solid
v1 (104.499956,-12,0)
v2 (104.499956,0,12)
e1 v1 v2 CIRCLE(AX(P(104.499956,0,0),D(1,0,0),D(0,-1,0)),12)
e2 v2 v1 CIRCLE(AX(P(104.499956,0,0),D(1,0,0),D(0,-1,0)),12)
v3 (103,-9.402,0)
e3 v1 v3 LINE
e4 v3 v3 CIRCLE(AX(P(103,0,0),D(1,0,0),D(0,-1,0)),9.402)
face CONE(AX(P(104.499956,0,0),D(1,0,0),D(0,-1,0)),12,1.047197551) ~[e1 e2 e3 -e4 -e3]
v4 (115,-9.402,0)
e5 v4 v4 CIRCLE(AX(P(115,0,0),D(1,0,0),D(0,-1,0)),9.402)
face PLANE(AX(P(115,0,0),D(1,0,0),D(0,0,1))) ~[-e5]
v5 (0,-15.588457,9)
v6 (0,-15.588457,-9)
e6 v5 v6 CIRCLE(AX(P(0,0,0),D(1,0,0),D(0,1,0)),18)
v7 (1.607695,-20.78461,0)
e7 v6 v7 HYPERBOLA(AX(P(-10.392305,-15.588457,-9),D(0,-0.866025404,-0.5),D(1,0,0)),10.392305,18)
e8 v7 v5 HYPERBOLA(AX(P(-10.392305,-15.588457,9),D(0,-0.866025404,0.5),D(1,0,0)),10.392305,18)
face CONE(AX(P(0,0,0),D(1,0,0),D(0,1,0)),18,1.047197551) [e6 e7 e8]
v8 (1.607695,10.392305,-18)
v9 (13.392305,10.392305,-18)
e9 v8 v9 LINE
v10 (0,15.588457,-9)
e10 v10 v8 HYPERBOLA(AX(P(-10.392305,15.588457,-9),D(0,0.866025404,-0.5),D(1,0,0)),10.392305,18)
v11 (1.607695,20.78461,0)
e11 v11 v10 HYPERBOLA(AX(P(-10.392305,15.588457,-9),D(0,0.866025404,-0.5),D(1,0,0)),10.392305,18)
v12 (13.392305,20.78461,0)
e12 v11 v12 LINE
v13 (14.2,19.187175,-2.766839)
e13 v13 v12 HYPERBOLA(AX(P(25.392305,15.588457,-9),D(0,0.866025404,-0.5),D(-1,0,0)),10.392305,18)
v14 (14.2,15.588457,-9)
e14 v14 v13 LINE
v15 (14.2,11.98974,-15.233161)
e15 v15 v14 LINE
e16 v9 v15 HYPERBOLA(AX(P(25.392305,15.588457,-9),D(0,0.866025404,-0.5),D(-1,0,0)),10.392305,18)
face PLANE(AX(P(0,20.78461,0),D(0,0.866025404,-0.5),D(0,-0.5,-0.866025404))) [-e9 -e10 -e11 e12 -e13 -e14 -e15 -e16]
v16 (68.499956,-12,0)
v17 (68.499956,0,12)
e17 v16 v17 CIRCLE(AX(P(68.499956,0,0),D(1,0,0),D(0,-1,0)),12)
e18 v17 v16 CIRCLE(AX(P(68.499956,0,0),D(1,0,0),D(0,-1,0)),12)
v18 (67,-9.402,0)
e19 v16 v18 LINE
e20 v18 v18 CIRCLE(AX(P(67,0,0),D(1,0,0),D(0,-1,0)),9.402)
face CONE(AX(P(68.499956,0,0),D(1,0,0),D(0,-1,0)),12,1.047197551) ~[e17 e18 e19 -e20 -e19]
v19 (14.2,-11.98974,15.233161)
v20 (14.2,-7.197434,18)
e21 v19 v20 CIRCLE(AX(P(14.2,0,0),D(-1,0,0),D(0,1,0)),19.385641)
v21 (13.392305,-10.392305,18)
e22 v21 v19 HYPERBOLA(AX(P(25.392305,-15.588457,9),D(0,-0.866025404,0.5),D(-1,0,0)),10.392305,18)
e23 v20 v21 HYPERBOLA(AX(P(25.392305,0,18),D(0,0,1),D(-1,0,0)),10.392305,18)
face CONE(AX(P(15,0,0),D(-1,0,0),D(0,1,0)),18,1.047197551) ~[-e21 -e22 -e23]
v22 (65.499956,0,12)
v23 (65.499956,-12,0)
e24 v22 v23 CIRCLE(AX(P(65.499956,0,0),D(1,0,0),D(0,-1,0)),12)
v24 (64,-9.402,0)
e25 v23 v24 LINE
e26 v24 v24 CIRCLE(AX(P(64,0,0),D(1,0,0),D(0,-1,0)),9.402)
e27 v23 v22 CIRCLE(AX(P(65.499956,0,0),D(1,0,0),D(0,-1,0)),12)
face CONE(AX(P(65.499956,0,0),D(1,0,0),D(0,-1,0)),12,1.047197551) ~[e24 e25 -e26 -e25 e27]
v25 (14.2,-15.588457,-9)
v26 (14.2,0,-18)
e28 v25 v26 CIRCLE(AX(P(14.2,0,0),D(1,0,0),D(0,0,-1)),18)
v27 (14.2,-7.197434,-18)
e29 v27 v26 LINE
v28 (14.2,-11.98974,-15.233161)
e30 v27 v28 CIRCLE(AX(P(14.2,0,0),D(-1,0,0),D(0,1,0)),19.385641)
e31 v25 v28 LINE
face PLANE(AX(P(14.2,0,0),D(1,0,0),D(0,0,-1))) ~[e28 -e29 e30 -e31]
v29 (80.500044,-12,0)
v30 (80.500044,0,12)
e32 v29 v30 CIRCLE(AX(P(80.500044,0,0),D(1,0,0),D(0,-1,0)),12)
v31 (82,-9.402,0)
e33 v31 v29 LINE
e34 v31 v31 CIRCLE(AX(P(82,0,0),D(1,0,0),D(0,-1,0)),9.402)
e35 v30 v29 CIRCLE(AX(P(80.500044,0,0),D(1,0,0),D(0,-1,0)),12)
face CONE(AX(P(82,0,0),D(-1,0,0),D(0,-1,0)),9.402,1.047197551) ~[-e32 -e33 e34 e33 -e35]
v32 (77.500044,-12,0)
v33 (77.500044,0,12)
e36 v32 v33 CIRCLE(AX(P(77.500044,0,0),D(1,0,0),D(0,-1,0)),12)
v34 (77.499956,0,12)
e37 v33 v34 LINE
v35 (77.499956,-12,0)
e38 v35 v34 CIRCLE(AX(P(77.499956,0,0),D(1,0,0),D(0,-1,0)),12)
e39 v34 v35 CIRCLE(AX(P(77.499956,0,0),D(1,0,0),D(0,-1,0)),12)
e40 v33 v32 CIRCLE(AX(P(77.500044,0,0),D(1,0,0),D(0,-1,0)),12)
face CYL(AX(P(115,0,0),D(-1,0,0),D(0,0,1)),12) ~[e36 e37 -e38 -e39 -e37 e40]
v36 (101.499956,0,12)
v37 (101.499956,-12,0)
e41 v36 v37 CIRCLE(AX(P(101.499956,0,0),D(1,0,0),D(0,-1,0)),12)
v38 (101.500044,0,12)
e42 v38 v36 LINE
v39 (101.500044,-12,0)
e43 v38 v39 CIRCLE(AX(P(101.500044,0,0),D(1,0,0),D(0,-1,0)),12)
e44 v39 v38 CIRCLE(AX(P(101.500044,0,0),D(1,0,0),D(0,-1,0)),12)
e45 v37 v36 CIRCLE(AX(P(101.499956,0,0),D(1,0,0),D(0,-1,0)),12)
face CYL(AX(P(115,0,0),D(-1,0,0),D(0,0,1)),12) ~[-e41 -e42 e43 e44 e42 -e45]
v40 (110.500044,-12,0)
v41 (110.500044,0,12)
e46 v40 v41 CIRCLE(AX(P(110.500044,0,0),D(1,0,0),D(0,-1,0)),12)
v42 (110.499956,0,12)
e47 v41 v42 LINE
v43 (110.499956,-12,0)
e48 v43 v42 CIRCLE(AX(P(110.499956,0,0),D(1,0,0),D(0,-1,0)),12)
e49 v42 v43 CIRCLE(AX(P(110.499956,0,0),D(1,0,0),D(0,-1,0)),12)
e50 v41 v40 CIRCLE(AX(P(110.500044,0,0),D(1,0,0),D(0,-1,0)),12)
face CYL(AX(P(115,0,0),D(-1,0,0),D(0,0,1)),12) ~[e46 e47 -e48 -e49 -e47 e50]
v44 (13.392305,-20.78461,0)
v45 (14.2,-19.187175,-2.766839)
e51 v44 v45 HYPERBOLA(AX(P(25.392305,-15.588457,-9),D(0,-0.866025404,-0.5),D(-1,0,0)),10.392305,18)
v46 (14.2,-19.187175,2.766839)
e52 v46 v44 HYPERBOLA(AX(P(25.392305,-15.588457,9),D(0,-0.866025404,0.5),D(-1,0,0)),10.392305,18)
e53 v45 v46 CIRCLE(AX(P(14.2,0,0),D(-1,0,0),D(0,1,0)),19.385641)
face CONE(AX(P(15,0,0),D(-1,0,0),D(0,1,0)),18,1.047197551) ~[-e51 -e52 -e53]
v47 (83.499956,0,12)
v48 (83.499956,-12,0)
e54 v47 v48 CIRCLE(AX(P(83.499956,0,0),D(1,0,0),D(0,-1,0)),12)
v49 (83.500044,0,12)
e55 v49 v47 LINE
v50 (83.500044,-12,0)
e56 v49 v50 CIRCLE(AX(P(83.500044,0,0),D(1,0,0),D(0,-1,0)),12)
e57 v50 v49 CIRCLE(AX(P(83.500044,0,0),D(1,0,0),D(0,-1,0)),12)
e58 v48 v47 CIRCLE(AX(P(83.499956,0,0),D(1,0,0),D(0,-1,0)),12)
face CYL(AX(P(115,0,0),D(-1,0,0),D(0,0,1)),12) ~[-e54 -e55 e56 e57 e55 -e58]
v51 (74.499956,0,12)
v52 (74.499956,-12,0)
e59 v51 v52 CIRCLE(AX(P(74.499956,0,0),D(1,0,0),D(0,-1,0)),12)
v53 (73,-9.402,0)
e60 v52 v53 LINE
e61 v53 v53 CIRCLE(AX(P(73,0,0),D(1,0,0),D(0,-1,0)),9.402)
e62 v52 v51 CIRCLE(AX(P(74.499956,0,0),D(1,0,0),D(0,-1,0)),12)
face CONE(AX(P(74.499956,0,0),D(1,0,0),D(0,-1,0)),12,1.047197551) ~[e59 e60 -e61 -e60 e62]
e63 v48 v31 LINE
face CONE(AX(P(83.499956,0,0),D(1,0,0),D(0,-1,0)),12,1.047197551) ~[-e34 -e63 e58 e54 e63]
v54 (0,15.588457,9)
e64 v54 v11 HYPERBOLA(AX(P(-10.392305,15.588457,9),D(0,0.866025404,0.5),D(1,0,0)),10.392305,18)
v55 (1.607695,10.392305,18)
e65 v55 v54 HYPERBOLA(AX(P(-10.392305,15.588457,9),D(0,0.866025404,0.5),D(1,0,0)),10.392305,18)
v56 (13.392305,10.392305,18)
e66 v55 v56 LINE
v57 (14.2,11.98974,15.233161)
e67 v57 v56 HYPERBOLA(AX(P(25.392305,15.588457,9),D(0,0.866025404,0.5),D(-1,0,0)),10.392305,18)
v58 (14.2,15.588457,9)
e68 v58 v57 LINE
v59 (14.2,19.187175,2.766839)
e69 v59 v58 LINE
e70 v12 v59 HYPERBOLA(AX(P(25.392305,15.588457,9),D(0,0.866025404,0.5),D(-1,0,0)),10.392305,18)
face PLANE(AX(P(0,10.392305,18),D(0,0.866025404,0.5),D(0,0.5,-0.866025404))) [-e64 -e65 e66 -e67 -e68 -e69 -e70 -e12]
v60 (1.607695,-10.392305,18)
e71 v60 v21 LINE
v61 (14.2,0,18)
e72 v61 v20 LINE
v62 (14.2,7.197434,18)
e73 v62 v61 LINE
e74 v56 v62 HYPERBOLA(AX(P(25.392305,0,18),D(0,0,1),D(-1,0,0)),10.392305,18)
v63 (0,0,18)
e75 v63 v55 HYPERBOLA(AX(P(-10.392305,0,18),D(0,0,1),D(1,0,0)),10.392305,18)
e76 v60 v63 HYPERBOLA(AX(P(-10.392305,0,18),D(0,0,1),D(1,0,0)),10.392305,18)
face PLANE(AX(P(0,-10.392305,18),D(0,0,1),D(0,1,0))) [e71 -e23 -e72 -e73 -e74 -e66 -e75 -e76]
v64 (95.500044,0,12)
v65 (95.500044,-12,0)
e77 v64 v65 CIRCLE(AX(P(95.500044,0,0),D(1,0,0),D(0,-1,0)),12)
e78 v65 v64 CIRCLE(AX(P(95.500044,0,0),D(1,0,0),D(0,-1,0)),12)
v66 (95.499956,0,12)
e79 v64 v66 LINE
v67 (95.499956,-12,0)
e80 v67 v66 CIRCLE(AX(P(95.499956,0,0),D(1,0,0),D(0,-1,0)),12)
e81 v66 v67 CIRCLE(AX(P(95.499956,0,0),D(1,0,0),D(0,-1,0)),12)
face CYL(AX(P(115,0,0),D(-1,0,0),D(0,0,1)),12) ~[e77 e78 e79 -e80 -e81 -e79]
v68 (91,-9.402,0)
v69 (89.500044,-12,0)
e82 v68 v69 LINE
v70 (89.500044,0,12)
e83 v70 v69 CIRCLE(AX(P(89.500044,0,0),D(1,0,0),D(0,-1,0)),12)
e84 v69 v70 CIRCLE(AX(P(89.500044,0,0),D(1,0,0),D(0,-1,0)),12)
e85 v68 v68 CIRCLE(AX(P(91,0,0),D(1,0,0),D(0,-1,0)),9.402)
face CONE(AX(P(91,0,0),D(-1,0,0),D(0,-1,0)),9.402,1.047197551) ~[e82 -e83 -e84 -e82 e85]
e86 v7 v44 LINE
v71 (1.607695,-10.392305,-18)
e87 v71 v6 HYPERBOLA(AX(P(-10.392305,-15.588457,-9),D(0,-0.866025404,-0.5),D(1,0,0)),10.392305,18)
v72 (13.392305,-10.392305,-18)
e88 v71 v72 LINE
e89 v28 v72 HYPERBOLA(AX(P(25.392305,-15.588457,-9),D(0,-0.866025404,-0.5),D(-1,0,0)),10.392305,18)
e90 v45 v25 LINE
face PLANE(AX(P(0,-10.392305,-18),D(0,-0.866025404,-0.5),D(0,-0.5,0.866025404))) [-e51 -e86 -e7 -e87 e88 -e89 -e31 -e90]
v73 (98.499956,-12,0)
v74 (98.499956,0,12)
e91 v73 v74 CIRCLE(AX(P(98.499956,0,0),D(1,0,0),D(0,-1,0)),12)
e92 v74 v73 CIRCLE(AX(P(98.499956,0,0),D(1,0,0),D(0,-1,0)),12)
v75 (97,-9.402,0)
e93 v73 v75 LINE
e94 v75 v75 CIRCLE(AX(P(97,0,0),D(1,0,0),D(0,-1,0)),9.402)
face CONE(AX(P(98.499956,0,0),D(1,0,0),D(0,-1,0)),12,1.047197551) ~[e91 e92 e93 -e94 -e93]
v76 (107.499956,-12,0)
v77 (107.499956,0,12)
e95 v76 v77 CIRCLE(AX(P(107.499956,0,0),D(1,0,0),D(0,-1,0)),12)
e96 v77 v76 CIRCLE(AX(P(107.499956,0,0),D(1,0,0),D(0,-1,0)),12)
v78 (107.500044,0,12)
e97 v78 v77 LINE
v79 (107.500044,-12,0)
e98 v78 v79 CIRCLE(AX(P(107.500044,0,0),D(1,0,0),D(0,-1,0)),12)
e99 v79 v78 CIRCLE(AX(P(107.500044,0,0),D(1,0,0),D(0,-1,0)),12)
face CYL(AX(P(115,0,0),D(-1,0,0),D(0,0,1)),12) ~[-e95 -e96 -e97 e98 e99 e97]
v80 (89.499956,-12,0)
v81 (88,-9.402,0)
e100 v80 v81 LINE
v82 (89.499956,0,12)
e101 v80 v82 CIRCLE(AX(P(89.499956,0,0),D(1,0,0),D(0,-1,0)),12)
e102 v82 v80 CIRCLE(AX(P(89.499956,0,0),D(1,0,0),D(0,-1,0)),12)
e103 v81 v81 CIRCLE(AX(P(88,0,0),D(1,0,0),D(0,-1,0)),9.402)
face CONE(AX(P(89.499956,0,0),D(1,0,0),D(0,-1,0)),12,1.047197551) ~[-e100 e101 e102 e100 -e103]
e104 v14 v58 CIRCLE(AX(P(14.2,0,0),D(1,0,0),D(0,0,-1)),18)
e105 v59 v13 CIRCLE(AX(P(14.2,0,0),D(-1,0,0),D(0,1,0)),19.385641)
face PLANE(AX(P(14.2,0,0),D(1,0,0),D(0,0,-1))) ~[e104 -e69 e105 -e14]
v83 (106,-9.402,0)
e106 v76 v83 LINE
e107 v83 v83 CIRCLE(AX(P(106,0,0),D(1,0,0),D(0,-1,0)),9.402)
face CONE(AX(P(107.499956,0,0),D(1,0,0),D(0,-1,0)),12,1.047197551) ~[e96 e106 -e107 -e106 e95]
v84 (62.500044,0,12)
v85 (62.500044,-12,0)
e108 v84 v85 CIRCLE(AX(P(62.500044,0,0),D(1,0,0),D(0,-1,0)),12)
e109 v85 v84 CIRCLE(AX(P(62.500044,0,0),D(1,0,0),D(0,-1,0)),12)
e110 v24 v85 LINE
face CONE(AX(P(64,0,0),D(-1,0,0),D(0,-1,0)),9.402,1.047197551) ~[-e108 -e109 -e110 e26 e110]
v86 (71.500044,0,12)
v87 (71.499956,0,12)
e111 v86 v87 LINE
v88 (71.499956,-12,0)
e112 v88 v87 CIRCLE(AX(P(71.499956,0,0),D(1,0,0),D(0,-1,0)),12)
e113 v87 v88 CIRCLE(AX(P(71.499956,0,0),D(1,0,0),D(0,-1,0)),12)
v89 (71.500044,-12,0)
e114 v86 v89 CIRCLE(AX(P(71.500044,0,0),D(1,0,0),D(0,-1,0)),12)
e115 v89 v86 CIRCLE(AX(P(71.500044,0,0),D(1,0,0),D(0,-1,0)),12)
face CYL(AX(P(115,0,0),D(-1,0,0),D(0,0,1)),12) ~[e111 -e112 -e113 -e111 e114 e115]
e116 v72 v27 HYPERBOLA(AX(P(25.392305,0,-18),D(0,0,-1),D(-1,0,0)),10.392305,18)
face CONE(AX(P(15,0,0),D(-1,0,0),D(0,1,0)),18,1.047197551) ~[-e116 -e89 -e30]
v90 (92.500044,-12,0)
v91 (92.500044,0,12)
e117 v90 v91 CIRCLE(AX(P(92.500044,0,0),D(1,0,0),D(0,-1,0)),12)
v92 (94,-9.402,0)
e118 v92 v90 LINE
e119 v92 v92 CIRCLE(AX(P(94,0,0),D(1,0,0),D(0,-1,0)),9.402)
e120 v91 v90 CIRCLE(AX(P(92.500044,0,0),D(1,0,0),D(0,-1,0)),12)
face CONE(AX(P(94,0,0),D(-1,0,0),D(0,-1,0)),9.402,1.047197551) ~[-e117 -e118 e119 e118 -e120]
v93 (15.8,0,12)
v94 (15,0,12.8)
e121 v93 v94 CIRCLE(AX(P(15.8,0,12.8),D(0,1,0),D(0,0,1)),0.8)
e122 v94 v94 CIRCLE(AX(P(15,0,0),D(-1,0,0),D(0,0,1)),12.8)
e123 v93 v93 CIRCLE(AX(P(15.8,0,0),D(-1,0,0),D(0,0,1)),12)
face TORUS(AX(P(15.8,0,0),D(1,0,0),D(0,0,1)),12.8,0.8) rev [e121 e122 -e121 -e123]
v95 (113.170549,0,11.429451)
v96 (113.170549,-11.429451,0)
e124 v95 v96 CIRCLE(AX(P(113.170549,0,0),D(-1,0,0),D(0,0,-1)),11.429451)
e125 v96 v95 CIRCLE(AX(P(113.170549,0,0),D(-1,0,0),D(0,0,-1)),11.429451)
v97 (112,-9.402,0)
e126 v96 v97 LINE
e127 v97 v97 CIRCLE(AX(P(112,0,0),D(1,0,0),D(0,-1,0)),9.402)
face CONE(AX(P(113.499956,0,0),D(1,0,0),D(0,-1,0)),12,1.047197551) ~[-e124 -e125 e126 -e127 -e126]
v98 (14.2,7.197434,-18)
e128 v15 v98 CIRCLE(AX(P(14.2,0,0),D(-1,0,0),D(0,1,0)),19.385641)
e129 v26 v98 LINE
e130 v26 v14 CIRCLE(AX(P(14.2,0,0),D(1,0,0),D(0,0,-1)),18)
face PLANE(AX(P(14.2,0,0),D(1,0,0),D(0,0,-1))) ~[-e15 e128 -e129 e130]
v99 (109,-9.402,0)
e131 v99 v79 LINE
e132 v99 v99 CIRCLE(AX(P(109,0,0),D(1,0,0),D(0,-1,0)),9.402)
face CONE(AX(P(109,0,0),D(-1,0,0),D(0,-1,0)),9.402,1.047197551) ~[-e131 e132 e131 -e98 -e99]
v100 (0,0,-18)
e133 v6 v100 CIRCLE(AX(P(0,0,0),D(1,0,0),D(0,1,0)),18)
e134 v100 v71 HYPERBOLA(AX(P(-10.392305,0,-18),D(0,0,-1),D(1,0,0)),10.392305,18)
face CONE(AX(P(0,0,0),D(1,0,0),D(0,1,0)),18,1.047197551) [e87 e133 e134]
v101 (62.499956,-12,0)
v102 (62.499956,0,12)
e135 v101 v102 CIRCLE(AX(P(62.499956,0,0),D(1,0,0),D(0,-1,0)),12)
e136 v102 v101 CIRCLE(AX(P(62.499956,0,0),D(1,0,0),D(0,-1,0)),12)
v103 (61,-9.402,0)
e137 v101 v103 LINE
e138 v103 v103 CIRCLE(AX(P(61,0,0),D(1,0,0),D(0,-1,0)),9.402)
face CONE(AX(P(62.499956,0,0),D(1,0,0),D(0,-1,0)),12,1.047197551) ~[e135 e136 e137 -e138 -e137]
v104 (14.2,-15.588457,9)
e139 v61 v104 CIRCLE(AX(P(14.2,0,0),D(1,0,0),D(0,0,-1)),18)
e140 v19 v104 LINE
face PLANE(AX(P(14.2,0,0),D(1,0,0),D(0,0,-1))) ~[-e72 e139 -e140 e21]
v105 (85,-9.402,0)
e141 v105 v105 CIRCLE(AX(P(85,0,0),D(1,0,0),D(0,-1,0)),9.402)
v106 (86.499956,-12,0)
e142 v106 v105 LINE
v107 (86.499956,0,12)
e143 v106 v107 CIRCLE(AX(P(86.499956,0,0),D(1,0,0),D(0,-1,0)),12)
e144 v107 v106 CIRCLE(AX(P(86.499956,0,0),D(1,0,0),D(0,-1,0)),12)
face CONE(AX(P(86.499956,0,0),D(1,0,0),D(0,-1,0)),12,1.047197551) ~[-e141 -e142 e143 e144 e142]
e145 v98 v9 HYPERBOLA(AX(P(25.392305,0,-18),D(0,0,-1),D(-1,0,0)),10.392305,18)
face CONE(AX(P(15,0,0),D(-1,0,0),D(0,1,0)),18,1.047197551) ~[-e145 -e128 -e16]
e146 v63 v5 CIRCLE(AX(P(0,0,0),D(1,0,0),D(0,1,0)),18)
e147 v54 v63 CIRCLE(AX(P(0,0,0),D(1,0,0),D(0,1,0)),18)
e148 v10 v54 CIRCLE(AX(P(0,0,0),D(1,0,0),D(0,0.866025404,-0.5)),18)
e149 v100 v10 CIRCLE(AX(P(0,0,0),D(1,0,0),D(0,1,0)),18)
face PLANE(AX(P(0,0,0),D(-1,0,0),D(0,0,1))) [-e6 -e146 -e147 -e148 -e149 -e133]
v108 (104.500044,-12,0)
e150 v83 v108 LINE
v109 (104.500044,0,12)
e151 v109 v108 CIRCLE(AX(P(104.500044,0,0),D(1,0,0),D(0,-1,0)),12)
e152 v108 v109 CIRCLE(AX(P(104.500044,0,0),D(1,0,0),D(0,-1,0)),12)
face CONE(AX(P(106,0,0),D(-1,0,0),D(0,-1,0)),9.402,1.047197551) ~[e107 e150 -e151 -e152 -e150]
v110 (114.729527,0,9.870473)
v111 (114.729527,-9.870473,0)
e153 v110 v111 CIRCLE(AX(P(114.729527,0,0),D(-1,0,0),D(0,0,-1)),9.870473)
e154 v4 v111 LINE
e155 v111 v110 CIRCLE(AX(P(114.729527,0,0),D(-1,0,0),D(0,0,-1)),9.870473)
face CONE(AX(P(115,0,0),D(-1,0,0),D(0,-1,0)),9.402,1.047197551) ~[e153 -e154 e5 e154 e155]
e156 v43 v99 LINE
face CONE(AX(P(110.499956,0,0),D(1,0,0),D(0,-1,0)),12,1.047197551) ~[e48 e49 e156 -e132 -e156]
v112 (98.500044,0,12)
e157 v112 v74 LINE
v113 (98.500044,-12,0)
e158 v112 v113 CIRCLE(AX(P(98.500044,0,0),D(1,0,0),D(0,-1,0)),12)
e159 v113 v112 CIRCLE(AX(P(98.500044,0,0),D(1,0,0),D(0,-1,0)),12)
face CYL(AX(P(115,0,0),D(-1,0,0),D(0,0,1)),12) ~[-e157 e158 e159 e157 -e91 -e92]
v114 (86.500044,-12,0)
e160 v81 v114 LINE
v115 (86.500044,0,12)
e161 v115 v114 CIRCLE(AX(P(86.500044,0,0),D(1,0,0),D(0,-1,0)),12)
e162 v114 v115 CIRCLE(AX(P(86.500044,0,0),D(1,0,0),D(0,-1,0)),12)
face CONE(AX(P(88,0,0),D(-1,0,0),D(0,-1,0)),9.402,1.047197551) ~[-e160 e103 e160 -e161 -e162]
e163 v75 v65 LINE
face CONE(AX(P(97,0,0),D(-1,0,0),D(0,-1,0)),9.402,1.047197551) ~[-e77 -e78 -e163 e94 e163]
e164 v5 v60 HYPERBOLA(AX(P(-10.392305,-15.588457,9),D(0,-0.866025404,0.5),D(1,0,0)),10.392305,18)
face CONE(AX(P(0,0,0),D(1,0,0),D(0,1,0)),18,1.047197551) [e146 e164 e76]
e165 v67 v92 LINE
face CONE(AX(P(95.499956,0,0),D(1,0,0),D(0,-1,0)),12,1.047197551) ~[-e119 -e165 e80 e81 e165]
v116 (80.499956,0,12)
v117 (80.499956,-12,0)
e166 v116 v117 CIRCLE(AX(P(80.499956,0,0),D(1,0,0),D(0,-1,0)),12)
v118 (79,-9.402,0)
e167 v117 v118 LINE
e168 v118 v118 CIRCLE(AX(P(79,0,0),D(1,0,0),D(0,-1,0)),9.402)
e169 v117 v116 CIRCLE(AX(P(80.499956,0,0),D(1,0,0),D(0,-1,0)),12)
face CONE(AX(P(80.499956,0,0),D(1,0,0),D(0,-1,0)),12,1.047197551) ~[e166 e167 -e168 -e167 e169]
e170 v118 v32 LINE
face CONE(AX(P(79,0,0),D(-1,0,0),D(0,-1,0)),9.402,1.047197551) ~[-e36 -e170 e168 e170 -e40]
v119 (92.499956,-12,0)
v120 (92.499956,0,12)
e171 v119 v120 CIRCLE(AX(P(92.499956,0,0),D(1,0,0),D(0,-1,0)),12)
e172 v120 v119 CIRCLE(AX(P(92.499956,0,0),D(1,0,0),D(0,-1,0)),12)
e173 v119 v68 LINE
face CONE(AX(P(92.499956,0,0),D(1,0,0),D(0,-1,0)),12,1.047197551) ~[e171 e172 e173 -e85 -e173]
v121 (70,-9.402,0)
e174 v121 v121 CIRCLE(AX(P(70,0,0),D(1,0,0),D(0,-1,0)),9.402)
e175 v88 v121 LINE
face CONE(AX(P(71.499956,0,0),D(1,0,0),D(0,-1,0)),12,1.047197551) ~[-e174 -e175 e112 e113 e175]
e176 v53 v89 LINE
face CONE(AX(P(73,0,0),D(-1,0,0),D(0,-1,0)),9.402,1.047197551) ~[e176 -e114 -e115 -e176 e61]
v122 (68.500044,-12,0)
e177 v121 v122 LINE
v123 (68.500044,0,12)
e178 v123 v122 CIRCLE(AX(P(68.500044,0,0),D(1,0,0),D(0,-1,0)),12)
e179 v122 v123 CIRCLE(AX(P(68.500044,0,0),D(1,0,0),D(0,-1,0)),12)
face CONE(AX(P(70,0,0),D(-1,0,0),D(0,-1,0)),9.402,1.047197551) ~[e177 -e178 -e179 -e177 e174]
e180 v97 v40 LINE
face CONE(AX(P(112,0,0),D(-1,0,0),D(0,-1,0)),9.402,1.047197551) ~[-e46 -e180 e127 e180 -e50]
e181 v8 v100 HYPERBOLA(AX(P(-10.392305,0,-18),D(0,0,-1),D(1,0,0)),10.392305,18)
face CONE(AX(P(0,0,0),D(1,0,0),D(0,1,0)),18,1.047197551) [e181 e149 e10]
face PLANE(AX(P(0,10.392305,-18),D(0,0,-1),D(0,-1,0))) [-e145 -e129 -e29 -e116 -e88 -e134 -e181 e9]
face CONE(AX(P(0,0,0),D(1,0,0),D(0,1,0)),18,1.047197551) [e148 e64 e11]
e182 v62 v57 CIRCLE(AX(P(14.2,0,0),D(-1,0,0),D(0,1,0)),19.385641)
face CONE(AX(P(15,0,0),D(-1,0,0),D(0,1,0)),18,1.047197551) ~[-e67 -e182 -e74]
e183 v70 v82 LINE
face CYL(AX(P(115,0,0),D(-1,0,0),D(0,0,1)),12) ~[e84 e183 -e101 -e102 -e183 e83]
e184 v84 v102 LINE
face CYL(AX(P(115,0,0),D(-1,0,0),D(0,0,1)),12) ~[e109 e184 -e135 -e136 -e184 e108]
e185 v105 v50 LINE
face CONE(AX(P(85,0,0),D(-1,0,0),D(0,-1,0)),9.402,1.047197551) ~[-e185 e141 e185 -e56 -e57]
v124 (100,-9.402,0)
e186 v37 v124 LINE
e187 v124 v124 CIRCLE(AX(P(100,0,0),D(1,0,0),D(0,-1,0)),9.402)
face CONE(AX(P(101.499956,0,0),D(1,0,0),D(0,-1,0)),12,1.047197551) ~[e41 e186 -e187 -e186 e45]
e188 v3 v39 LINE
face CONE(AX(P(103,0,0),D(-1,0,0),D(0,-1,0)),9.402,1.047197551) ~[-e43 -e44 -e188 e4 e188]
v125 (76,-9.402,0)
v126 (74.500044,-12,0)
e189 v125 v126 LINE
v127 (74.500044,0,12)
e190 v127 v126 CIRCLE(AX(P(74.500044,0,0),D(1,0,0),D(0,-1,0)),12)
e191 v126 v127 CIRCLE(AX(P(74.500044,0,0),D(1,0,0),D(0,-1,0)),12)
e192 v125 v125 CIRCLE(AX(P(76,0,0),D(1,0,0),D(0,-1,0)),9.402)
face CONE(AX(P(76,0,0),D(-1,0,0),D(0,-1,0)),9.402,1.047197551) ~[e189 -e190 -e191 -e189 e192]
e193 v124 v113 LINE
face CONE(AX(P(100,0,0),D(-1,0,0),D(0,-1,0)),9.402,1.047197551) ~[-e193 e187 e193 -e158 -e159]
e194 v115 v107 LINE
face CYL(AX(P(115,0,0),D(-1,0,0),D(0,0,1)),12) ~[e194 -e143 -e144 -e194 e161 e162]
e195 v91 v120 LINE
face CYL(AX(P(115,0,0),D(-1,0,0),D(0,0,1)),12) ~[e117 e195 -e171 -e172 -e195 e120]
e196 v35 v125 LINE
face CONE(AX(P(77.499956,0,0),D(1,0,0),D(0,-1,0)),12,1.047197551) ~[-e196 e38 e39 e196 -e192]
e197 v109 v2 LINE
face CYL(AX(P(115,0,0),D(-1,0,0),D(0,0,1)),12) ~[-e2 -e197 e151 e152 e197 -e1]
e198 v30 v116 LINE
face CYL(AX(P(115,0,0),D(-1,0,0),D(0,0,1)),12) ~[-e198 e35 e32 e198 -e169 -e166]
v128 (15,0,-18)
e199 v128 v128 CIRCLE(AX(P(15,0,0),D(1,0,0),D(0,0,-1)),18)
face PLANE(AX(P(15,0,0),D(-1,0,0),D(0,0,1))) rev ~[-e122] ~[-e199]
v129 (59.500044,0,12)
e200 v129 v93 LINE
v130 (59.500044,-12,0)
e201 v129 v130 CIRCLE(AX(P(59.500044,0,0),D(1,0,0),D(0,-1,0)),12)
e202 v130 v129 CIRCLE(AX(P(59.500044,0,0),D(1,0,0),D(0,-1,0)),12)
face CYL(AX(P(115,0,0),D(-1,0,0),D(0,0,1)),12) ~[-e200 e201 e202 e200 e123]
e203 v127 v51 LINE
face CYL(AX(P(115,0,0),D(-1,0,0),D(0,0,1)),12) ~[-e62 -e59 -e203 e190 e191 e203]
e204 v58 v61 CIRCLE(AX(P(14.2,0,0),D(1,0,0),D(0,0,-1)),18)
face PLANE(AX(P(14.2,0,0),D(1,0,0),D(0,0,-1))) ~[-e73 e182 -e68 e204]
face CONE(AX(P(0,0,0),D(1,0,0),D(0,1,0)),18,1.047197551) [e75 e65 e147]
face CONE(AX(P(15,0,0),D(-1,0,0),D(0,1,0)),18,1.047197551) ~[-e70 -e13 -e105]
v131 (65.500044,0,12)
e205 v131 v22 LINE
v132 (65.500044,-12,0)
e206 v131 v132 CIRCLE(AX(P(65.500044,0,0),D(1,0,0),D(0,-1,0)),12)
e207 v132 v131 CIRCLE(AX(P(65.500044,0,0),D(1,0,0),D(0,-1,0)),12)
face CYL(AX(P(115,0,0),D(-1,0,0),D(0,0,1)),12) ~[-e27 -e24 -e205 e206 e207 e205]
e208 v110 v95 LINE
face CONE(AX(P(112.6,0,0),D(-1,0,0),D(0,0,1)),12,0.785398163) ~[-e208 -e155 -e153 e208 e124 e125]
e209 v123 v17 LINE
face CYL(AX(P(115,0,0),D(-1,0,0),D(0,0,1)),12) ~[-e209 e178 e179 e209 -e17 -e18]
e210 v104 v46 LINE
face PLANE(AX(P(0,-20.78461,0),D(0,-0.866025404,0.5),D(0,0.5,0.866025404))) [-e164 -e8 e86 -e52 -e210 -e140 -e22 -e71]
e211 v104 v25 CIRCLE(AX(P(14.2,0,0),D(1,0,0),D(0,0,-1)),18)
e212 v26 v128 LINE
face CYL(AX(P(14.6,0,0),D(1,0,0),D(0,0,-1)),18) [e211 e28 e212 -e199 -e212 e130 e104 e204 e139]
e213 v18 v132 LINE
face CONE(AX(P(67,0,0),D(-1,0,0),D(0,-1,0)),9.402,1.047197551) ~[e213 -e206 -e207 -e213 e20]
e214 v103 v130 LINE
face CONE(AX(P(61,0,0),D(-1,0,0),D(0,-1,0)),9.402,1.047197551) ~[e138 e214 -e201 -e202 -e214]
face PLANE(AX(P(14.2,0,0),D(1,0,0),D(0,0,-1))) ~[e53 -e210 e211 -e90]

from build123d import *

# Parameters (mm, degrees)
EXTRUDE_389_DEPTH      = 15
SKETCH_4_W             = 0.8
SKETCH_4_H             = 12.784609691
CHAMFER_2089_SIZE      = 2.4
FILLET_2131_R          = 0.8
PATTERN_LINEAR_1_COUNT = 19
PATTERN_LINEAR_1_PITCH = 3


with BuildPart() as part:
    # 草图1 → Extrude 389 (new body)
    with BuildSketch(Plane(origin=(0, 0, 0), x_dir=(0, 0, -1), z_dir=(1, 0, 0))):
        Polygon((18, 10.392304845), (18, -10.392304845), (0, -20.784609691), (-18, -10.392304845), (-18, 10.392304845), (0, 20.784609691), align=None)
    extrude(amount=EXTRUDE_389_DEPTH)

    # 草图2 → 凸台-旋转1 (revolve)
    with BuildSketch(Plane.XY, mode=Mode.PRIVATE) as revolve_1_sk:
        Polygon((0, 0), (115, 0), (115, 9.402), (115, 12), (27.8072, 12), (0, 12), align=None)
    revolve(revolve_1_sk.sketch.rotate(Axis((0, 0, 0), (1, 0, 0)), 90), axis=Axis((0, 0, 0), (1, 0, 0)))

    # 草图3 → 切除-旋转1 (revolve, cut)
    with BuildSketch(Plane.XY):
        Polygon((0, 18), (4.494446501, 25.784609691), (4.494446501, 30.784609691), (-10, 30.784609691), (-10, 18), align=None)
    revolve(axis=Axis((0, 0, 0), (1, 0, 0)), mode=Mode.SUBTRACT)

    # 草图5 → 切除-旋转2 (revolve, cut)
    with BuildSketch(Plane.XY):
        Polygon((15, 18), (10.505553499, 25.784609691), (10.505553499, 30.784609691), (20.505553499, 30.784609691), (20.505553499, 18), align=None)
    revolve(axis=Axis((0, 0, 0), (1, 0, 0)), mode=Mode.SUBTRACT)

    # 草图4 → 切除-旋转3 (revolve, cut)
    with BuildSketch(Plane.XY, mode=Mode.PRIVATE) as cut_revolve_3_sk:
        with Locations((14.6, 24.392304845)):
            Rectangle(SKETCH_4_W, SKETCH_4_H)
    revolve(cut_revolve_3_sk.sketch.rotate(Axis((0, 0, 0), (1, 0, 0)), 270), axis=Axis((0, 0, 0), (1, 0, 0)), mode=Mode.SUBTRACT)

    # Chamfer 2089
    chamfer_2089_edges = [part.edges().sort_by_distance(p)[0] for p in [
        (115, 0, -12),
    ]]
    chamfer(chamfer_2089_edges, length=CHAMFER_2089_SIZE)

    # Fillet 2131
    fillet_2131_edges = [part.edges().sort_by_distance(p)[0] for p in [
        (15, 0, -12),
    ]]
    fillet(fillet_2131_edges, radius=FILLET_2131_R)

    # 草图6 → 切除-旋转4 (revolve, cut)
    with BuildSketch(Plane.XY):
        Polygon((61, -9.402), (59.500044001, -12), (59.500044001, -15), (62.499955999, -15), (62.499955999, -12), align=None)
    cut_revolve_4 = revolve(axis=Axis((-3.175, 0, 0), (1, 0, 0)), mode=Mode.SUBTRACT)

    # 阵列(线性)1: 切除-旋转4 ×19
    with Locations(*[(i * PATTERN_LINEAR_1_PITCH, 0, 0) for i in range(1, PATTERN_LINEAR_1_COUNT)]):
        add(cut_revolve_4, mode=Mode.SUBTRACT)


solid = part.part
